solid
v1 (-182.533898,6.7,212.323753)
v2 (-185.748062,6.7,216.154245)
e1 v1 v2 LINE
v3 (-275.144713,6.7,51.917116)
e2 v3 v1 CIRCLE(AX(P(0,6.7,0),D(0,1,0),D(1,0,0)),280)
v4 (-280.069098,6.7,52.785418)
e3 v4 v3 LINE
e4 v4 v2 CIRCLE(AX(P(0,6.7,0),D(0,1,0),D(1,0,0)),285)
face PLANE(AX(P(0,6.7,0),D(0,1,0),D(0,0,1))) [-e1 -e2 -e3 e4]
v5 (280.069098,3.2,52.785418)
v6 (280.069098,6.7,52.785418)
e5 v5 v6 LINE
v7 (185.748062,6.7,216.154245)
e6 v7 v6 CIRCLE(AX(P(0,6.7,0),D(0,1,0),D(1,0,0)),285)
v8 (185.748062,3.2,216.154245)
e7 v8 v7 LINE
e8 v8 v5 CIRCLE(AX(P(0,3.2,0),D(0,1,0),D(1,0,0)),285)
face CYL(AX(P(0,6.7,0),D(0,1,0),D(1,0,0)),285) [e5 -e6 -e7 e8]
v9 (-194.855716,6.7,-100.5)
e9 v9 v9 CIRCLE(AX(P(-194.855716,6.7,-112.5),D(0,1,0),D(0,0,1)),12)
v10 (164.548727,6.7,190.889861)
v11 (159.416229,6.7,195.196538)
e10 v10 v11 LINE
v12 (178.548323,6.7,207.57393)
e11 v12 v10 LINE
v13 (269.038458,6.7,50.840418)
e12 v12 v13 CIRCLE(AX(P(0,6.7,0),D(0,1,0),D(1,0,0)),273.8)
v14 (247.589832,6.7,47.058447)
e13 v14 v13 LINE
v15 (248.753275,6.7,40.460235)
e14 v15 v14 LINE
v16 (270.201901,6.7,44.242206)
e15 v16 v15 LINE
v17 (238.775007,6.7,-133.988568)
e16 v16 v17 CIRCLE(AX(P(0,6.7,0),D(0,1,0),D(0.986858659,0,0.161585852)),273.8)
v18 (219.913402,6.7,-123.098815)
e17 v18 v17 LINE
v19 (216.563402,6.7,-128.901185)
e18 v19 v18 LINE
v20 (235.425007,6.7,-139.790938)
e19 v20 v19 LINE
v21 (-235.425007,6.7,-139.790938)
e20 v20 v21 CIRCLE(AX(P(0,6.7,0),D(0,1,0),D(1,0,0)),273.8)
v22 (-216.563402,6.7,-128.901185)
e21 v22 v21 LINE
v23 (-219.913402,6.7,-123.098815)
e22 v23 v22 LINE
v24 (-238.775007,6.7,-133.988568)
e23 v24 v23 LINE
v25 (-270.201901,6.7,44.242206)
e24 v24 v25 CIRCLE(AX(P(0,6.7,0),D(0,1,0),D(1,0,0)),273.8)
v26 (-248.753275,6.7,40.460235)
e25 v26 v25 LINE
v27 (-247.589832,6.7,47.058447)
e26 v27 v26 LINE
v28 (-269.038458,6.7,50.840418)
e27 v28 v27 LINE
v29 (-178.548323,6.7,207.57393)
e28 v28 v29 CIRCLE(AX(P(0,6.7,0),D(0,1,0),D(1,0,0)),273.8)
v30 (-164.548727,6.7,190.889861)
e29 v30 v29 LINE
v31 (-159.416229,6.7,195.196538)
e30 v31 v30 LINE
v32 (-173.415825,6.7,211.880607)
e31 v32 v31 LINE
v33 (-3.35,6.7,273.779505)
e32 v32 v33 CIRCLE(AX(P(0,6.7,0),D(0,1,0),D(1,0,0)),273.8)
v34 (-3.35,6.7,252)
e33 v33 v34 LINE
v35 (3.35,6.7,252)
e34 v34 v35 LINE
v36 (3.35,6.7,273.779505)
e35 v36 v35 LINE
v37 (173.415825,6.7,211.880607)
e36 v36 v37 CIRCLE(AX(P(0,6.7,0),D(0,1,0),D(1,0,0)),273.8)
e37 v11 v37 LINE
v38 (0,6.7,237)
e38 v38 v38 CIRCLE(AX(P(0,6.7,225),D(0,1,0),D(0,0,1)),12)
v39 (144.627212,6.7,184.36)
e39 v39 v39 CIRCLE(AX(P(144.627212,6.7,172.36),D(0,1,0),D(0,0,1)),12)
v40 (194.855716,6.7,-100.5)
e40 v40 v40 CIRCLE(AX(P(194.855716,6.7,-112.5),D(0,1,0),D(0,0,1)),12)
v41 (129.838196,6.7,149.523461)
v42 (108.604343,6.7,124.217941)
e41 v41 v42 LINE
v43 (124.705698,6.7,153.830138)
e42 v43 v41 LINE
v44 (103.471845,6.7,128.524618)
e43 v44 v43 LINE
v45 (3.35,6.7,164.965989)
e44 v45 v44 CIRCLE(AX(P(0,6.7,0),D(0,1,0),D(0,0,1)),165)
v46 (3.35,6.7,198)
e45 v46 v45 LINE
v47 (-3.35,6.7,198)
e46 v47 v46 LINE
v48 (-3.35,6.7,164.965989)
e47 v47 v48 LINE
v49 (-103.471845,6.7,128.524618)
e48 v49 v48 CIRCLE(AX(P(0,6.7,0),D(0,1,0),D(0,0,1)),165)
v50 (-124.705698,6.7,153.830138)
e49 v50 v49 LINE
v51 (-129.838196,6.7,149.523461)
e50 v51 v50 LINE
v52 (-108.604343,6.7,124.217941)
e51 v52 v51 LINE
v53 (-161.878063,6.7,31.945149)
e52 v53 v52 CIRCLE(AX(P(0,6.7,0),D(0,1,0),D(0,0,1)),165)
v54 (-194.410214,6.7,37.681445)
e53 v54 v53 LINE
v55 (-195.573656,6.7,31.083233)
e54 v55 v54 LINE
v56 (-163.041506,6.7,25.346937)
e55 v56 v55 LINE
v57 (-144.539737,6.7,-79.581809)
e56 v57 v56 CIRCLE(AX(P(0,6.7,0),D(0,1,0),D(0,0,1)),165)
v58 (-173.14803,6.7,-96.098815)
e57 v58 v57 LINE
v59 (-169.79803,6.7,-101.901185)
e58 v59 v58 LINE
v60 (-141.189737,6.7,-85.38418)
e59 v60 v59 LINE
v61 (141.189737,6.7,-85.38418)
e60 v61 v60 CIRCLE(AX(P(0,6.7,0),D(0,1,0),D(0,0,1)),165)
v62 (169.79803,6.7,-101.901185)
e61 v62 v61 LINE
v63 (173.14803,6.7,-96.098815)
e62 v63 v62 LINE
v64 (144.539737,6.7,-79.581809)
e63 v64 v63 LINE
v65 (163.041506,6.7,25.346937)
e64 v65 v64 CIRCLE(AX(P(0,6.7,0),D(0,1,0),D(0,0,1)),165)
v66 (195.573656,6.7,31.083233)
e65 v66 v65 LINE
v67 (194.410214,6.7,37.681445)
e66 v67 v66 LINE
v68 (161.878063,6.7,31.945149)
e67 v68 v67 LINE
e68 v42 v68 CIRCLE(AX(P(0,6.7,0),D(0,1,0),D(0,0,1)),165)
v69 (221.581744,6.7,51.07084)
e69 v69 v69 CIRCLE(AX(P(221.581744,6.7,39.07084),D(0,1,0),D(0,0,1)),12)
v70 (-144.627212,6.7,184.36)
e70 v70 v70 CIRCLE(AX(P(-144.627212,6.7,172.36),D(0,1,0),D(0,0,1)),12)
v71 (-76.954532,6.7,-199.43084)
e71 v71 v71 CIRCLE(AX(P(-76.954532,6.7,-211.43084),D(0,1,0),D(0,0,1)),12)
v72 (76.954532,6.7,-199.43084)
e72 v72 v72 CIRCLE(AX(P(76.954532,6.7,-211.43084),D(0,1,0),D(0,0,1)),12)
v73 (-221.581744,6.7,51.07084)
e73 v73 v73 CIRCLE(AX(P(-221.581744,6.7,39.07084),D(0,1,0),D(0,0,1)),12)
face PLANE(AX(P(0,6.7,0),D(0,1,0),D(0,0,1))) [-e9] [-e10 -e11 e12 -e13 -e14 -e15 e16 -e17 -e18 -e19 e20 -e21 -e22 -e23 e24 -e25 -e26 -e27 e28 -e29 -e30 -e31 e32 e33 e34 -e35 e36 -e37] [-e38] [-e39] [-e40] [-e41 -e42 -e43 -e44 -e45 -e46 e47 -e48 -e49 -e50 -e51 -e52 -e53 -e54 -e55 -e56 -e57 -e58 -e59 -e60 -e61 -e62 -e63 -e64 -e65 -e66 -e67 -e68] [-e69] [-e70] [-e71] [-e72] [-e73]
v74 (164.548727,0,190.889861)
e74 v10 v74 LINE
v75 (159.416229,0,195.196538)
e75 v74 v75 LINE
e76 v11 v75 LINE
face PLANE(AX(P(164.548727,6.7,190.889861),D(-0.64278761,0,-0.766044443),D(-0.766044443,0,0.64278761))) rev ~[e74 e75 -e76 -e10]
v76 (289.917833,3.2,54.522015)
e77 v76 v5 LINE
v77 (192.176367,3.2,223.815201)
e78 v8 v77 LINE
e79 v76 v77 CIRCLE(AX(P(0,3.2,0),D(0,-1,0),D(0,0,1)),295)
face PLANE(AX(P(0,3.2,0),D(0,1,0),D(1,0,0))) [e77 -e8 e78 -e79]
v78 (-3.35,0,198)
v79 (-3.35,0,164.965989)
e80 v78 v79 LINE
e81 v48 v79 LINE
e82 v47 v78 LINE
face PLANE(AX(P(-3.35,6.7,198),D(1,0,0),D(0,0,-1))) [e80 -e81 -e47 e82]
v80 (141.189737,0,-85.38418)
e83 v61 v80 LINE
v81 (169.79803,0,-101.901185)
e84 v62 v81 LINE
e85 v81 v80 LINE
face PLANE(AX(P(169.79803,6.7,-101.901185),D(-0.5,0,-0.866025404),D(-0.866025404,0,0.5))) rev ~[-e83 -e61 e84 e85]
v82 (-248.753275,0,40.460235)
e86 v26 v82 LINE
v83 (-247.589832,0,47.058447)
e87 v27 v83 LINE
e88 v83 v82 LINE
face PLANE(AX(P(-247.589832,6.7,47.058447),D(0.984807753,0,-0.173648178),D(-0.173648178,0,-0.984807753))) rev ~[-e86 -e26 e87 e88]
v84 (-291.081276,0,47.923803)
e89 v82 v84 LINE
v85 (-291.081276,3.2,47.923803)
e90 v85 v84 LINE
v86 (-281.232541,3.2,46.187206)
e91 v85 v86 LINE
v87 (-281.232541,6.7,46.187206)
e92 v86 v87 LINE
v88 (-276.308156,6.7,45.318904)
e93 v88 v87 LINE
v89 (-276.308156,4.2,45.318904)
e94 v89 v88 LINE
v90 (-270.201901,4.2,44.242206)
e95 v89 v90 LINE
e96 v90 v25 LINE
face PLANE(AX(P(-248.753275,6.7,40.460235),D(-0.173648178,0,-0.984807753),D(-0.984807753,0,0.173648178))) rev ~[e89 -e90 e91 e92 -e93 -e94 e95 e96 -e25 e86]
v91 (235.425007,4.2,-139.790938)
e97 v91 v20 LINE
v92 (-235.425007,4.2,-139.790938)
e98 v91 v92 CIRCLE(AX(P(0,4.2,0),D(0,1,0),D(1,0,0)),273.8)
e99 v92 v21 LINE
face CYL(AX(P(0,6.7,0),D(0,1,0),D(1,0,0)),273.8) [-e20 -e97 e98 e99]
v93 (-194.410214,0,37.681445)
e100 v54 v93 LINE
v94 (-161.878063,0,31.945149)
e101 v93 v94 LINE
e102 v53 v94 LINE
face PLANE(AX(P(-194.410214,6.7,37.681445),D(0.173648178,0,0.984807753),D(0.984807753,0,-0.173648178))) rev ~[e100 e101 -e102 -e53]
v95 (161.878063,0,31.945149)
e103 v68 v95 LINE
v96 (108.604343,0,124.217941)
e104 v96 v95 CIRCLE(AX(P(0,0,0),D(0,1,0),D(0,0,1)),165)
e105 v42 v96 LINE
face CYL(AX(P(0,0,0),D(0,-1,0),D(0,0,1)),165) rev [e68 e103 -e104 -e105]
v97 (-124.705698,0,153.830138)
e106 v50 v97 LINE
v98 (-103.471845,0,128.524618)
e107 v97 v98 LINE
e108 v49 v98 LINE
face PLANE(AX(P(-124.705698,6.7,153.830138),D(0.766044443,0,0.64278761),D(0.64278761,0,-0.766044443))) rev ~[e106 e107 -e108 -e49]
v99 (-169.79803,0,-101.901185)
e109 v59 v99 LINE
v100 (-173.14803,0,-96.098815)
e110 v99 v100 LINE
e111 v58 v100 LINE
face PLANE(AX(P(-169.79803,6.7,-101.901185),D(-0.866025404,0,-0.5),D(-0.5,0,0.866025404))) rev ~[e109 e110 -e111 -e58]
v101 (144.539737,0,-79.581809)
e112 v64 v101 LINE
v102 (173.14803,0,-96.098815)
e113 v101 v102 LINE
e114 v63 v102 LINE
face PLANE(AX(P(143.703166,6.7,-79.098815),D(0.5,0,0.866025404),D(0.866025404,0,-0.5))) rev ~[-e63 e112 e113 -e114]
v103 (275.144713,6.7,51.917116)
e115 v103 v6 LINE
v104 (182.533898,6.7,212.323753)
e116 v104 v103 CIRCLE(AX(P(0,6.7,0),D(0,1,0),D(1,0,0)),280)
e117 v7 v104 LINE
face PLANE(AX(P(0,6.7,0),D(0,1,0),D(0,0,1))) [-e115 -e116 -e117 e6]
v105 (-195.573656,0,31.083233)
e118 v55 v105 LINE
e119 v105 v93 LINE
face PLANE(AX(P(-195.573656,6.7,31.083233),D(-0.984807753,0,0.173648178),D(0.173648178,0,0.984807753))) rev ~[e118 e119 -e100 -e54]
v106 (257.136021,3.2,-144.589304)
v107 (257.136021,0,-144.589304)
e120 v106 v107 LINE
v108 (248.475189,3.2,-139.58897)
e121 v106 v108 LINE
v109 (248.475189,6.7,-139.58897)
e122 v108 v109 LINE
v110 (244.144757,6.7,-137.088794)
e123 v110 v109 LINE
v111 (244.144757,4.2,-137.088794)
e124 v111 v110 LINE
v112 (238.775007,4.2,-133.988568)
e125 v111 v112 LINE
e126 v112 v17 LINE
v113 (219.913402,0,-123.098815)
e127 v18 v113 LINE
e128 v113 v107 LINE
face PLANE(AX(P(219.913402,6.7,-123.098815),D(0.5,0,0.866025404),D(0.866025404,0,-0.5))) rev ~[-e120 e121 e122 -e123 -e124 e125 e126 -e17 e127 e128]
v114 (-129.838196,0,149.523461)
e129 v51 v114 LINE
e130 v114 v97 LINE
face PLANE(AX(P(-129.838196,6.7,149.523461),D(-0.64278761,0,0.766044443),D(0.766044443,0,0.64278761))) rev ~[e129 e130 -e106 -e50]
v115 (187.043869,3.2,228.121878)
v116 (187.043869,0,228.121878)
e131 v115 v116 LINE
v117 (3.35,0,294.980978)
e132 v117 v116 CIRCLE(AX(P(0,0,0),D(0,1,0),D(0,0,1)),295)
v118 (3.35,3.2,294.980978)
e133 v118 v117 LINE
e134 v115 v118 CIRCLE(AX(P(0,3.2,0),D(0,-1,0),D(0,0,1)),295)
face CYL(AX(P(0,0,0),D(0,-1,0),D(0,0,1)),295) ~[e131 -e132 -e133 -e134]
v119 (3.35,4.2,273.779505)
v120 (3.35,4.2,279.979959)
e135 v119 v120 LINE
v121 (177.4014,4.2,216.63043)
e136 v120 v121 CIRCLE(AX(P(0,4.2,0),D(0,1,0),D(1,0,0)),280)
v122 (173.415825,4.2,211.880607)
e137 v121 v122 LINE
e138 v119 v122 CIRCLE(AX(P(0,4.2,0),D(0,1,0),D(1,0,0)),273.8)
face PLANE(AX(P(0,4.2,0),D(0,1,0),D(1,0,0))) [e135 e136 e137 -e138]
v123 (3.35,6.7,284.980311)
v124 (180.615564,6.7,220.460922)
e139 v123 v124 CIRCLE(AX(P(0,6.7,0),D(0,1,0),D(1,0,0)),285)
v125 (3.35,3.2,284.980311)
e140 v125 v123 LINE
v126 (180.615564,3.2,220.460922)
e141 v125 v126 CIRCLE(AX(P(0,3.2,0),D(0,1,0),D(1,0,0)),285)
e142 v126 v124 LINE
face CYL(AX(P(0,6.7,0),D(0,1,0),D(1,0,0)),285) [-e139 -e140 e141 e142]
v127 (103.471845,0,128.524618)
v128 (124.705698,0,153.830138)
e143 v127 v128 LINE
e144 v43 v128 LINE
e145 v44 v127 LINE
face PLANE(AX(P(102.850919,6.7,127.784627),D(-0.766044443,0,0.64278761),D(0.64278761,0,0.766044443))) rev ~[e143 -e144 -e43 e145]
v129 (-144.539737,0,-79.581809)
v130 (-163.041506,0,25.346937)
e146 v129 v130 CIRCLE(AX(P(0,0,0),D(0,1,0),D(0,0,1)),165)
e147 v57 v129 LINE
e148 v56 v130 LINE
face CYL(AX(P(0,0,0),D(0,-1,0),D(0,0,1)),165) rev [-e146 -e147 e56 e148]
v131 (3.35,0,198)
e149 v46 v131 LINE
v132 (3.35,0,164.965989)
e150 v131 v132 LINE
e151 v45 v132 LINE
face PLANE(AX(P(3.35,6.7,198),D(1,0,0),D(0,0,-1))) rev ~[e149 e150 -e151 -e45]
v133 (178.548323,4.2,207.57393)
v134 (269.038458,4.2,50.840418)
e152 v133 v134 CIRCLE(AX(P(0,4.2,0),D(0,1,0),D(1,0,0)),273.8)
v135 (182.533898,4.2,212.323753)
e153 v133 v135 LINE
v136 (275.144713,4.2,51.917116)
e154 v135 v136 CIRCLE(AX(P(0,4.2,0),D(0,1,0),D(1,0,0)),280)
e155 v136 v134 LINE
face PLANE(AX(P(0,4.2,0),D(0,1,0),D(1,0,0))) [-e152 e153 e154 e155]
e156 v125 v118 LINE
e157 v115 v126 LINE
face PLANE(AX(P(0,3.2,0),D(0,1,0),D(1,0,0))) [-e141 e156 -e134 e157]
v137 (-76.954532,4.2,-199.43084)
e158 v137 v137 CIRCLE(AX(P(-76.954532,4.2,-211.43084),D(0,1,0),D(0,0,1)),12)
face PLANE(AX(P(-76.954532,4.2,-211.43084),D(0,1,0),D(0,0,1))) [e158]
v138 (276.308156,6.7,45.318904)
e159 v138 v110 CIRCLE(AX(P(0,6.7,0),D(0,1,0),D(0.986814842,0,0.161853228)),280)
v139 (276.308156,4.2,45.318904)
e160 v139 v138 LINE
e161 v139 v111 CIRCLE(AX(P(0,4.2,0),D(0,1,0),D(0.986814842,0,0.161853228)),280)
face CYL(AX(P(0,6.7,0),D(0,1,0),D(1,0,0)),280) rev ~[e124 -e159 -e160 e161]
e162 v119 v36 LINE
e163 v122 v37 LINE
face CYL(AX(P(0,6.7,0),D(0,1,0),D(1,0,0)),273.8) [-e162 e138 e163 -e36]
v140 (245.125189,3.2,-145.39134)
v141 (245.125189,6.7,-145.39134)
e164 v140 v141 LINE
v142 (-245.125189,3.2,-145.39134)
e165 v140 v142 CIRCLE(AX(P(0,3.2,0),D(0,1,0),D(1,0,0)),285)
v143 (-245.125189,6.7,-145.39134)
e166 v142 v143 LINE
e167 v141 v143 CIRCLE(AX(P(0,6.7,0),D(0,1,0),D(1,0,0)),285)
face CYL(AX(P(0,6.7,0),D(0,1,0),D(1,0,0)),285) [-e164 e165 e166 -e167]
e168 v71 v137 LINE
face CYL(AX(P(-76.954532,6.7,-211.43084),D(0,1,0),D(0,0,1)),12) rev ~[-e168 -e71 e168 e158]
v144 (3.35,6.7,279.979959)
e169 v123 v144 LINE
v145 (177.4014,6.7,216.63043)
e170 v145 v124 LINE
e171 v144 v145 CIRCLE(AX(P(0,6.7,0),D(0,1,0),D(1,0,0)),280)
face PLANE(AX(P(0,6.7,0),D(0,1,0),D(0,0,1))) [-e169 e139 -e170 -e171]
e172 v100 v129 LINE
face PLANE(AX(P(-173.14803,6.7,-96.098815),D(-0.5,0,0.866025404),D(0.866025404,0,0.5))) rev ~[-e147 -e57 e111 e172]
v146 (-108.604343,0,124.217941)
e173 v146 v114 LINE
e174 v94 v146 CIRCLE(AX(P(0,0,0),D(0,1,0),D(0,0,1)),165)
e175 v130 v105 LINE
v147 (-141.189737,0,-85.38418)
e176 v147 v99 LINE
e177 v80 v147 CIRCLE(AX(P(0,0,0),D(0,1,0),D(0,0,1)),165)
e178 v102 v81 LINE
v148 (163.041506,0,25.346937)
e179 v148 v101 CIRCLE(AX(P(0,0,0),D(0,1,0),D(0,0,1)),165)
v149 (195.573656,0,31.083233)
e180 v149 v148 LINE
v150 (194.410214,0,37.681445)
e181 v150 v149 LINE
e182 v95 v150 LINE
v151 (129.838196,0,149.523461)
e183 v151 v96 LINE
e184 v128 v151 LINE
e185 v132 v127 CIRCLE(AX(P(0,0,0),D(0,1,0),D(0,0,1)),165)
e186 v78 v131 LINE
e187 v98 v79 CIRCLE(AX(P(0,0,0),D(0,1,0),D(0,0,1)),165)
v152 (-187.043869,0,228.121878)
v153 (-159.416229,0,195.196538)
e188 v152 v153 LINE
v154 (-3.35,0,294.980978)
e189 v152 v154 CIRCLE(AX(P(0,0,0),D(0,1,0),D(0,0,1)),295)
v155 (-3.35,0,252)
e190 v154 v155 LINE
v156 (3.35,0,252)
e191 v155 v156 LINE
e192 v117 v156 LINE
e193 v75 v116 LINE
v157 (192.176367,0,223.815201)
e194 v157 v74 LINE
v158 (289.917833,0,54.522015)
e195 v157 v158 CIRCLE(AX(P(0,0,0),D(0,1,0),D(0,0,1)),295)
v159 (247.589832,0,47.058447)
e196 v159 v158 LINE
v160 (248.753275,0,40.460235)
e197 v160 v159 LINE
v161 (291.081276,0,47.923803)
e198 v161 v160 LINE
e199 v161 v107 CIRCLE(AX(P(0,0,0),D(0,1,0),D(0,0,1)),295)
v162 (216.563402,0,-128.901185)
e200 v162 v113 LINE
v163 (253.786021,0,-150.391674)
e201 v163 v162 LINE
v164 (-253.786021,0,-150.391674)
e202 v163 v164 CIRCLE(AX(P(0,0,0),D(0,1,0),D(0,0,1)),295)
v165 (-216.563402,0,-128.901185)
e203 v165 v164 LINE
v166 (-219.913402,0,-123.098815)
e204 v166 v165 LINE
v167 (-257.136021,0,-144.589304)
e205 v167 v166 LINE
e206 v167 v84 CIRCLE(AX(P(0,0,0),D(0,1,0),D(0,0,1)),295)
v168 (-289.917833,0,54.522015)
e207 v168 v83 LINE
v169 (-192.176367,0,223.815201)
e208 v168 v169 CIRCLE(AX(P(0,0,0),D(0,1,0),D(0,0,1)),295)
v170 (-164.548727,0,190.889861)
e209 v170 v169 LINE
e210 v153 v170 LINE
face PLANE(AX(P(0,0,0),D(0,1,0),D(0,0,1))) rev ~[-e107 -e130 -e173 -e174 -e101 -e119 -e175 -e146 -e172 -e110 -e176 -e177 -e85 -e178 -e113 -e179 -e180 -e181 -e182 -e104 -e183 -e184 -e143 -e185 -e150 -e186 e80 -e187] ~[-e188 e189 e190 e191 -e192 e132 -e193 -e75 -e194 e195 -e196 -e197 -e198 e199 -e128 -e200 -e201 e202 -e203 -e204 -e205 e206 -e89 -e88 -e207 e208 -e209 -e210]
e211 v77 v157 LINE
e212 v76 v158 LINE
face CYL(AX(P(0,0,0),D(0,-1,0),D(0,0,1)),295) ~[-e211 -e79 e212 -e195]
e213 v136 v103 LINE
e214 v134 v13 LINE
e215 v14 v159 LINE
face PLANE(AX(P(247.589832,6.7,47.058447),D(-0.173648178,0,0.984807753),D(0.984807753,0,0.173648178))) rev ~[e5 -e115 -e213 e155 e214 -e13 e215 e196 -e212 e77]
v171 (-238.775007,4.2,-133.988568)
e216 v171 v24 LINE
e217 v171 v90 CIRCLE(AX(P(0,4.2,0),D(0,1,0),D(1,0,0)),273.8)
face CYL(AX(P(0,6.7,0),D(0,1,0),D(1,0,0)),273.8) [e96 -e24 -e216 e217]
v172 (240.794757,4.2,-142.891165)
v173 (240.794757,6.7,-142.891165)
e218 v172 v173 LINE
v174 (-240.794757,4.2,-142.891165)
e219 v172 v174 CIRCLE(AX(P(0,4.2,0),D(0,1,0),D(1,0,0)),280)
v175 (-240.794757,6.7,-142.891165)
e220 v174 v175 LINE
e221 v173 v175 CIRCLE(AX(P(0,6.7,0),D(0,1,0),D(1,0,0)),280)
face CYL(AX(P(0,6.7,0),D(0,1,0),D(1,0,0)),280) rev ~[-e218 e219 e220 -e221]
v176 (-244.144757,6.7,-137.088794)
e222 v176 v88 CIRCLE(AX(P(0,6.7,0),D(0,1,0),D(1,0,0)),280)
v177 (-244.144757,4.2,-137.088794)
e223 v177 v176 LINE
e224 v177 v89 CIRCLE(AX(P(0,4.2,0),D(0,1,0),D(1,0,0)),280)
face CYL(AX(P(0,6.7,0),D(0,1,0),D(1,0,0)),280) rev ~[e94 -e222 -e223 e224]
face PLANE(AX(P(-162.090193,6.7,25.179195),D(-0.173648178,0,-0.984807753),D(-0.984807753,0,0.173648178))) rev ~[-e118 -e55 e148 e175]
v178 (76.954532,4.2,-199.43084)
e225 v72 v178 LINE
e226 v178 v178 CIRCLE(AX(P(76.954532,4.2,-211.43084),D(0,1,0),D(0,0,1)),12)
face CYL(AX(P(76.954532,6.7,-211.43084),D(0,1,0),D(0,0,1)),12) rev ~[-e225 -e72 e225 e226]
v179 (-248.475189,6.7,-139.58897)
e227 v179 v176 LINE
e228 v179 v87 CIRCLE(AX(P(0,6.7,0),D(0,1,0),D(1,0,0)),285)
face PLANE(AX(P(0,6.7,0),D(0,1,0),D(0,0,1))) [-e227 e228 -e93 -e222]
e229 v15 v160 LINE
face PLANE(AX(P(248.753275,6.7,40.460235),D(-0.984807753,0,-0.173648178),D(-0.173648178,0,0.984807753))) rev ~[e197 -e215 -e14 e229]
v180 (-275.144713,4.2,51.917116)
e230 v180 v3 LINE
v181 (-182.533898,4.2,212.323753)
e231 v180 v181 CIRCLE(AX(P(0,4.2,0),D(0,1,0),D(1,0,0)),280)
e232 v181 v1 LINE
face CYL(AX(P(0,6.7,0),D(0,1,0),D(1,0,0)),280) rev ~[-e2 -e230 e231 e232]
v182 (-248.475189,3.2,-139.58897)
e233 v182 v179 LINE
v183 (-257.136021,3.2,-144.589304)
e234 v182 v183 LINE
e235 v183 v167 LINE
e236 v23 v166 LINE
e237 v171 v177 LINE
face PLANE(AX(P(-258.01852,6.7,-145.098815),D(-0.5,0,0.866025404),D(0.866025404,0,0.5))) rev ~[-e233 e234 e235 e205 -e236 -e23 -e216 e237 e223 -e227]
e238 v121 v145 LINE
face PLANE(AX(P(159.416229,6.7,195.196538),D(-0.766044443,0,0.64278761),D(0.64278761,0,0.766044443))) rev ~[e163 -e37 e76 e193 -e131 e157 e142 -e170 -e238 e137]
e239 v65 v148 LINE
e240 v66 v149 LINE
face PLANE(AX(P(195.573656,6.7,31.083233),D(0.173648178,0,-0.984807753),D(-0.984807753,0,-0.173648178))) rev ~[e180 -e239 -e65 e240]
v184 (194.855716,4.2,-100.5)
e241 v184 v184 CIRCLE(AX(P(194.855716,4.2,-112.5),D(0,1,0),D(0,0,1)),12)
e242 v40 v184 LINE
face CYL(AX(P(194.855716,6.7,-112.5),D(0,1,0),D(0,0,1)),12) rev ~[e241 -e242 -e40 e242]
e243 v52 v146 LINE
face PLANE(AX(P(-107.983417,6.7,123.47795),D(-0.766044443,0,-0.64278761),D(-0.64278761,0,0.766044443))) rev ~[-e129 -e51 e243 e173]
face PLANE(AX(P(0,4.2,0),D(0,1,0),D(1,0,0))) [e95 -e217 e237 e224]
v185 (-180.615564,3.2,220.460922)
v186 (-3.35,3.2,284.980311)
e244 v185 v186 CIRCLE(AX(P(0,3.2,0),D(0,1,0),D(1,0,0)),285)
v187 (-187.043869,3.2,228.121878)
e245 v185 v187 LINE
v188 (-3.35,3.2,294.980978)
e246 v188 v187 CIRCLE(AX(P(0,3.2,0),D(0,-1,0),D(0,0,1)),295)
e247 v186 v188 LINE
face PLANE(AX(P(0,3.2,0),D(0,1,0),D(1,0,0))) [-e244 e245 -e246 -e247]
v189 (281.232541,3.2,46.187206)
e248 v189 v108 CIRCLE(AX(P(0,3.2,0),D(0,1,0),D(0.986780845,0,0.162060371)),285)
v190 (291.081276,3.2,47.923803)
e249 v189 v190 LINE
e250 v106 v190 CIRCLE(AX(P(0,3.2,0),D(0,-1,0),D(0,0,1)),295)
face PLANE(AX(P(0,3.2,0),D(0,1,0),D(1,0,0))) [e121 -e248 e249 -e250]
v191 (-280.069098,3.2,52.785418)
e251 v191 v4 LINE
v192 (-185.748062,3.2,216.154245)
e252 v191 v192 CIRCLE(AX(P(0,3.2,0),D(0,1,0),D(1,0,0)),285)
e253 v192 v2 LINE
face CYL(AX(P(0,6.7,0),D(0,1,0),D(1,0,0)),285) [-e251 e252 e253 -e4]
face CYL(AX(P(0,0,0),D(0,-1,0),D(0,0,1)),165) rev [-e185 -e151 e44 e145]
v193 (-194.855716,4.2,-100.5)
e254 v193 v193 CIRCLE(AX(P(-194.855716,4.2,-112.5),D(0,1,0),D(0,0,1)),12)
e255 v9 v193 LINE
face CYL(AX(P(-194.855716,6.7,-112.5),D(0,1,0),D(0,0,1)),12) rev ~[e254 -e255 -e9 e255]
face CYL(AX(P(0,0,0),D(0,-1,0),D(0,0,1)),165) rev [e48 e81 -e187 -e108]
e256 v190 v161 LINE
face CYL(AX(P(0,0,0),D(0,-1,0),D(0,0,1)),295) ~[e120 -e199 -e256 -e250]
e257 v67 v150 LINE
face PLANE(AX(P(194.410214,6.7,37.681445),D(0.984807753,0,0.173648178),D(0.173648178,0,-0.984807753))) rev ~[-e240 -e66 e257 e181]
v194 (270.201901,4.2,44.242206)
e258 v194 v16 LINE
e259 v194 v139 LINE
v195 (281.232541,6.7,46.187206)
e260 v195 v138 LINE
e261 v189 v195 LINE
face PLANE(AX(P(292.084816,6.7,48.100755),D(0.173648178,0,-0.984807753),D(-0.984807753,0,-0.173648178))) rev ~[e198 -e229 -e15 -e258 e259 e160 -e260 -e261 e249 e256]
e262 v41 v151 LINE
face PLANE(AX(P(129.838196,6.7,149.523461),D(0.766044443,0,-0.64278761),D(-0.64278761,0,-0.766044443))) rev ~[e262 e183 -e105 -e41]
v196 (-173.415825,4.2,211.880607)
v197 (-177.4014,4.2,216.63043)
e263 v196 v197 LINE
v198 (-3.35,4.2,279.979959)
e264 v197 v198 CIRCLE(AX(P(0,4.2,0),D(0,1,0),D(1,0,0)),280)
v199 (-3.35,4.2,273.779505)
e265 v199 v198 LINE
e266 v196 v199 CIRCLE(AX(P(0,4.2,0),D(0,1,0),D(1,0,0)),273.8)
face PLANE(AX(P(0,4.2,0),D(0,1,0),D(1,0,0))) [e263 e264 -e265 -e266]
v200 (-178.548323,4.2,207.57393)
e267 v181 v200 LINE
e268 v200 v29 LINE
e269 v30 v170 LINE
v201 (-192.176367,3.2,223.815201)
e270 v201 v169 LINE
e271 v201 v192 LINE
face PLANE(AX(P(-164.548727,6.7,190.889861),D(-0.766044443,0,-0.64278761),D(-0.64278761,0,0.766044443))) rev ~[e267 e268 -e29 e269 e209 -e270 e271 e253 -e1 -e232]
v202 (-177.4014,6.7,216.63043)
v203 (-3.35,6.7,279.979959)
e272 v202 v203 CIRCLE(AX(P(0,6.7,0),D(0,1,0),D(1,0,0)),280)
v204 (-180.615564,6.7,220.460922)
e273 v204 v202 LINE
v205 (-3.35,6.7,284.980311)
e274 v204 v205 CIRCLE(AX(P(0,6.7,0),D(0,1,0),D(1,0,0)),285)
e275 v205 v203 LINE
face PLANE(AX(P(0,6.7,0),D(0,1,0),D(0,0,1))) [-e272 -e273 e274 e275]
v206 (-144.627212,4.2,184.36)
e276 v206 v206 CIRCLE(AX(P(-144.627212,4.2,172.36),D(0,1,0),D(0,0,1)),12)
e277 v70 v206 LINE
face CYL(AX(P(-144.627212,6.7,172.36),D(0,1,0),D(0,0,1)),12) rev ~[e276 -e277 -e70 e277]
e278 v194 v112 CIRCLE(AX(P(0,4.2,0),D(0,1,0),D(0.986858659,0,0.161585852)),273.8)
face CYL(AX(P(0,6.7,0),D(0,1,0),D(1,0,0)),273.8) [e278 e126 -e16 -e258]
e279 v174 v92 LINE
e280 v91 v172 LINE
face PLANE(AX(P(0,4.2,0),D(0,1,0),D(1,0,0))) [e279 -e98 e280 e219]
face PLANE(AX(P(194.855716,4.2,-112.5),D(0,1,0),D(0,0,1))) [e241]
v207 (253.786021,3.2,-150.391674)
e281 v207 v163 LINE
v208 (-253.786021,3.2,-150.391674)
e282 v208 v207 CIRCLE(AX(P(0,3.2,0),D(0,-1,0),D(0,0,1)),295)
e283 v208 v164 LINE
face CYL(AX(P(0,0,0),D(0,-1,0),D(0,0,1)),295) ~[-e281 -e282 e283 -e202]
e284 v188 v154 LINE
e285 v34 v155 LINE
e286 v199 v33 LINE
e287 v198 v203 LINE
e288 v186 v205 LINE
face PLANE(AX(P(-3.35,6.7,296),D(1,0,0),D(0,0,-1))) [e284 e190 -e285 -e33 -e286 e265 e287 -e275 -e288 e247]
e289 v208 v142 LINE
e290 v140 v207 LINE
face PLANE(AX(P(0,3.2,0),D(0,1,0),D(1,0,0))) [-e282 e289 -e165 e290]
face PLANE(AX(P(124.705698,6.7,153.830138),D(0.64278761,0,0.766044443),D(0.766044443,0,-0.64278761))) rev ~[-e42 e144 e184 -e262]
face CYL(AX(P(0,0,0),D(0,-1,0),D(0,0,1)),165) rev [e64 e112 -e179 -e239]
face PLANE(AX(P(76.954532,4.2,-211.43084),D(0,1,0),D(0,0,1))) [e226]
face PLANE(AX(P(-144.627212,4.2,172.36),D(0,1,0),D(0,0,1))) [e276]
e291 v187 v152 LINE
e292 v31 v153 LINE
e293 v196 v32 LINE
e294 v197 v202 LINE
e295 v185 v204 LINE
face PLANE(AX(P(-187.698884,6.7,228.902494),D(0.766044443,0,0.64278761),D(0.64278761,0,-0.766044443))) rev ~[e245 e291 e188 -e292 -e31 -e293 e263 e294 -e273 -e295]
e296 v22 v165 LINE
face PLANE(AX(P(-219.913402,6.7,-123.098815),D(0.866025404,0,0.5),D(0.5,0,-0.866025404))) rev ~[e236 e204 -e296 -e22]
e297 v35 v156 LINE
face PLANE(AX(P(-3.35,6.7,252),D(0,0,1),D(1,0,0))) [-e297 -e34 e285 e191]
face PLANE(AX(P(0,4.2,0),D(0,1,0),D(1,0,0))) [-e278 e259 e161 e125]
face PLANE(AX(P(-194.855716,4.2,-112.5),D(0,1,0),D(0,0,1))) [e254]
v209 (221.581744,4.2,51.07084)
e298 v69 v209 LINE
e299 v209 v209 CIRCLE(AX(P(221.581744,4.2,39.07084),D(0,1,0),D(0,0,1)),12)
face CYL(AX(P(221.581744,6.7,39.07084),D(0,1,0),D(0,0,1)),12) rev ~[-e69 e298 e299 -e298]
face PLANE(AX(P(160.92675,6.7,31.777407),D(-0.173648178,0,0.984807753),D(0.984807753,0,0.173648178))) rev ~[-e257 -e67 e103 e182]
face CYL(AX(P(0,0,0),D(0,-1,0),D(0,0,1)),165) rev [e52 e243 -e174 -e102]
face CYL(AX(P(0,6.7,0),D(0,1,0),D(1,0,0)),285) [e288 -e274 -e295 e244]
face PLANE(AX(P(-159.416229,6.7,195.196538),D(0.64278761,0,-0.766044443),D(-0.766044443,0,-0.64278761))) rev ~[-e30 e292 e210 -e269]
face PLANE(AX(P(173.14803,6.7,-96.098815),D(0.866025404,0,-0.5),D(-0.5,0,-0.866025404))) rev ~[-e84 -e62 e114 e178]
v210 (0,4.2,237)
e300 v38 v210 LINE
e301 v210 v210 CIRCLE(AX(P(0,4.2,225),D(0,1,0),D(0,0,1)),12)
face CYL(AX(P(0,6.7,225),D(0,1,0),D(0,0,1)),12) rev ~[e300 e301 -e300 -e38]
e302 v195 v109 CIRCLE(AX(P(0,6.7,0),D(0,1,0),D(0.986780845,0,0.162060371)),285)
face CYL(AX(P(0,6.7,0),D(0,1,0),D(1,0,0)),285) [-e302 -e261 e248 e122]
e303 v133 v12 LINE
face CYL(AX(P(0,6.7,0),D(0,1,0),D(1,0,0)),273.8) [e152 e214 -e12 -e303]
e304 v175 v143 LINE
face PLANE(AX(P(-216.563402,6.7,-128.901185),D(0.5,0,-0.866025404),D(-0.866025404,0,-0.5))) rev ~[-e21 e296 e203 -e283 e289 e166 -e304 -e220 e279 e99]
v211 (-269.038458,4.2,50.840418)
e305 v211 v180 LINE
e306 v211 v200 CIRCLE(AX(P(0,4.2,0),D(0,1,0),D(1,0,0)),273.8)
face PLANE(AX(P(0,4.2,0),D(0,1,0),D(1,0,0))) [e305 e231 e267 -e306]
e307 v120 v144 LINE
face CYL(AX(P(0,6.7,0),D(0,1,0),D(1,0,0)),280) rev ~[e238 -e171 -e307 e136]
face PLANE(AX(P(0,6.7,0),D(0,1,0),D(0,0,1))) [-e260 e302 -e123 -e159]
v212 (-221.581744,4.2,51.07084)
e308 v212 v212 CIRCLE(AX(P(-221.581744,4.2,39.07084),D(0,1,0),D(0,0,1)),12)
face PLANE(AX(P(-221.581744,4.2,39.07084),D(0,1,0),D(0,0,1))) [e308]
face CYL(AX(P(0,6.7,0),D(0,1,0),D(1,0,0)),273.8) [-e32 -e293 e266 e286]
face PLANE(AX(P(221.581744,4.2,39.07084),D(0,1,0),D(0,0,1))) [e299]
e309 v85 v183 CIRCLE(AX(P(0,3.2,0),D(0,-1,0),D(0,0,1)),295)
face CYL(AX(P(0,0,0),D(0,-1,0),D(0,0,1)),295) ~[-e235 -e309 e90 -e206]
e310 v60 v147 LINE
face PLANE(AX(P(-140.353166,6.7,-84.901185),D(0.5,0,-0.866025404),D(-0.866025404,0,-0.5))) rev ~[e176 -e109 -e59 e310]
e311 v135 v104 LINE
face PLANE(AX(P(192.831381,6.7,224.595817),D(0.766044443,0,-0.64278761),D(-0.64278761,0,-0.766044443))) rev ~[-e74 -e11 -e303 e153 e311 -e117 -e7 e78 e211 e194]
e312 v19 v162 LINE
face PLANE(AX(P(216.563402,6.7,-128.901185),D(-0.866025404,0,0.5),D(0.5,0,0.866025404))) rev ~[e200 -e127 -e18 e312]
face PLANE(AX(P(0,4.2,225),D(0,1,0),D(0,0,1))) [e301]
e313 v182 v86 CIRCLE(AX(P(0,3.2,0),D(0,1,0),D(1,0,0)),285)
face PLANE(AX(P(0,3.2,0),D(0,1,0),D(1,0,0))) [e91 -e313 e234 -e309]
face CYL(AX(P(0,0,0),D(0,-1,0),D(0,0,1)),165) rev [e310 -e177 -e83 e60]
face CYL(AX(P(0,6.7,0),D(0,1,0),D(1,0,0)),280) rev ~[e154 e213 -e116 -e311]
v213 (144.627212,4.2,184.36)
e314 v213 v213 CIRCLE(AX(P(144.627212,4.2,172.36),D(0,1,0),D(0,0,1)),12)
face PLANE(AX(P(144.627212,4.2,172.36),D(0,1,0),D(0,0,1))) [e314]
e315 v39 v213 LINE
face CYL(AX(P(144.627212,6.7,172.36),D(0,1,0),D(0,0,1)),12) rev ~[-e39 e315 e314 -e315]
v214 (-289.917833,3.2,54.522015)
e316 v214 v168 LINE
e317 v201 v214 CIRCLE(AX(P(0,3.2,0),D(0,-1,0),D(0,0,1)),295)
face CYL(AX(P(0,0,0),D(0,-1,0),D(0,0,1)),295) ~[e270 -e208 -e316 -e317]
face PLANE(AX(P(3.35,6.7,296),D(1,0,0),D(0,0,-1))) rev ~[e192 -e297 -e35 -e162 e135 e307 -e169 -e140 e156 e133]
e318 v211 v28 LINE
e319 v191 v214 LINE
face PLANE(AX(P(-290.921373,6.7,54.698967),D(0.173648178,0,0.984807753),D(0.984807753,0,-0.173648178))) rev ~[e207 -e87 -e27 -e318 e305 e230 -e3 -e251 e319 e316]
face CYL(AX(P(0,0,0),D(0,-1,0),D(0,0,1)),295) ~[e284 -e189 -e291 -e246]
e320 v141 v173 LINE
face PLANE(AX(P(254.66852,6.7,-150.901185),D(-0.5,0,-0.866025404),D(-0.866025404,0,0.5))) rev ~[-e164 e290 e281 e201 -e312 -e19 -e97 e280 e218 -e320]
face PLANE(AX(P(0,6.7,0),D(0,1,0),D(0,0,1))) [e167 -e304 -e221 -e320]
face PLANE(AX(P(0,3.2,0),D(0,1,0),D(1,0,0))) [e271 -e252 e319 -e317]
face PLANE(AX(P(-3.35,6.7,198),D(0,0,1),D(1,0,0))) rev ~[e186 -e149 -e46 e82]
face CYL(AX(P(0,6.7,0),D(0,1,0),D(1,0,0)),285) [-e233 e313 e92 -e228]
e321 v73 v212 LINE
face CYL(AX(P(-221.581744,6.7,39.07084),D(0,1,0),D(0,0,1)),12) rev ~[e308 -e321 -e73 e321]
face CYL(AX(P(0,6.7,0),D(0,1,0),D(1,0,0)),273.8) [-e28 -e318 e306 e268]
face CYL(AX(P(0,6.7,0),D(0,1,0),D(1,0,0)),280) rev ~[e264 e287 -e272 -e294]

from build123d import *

# Parameters (mm, degrees)
SKETCH1_R           = 295
SKETCH1_R_2         = 165
BOSS_EXTRUDE1_DEPTH = 6.7
SKETCH2_W           = 6.7
SKETCH2_H           = 34
SKETCH2_H_2         = 44
CUT_EXTRUDE3_DEPTH  = 6.7
SKETCH3_R           = 280
SKETCH3_R_2         = 273.8
SKETCH3_R_3         = 12
CUT_EXTRUDE4_DEPTH  = 2.5
SKETCH5_R           = 296
SKETCH5_R_2         = 285
CUT_EXTRUDE5_DEPTH  = 3.5


with BuildPart() as part:
    # Sketch1 → Boss-Extrude1 (new body)
    with BuildSketch(Plane(origin=(0, 0, 0), x_dir=(1, 0, 0), z_dir=(0, 1, 0))):
        with Locations(Location((0, 0, 0), (0, 0, 270))):
            Circle(SKETCH1_R)
        with Locations(Location((0, 0, 0), (0, 0, 270))):
            Circle(SKETCH1_R_2, mode=Mode.SUBTRACT)
    extrude(amount=BOSS_EXTRUDE1_DEPTH)

    # Sketch2 → Cut-Extrude3 (cut)
    with BuildSketch(Plane(origin=(0, 6.7, 0), x_dir=(1, 0, 0), z_dir=(0, 1, 0))):
        Polygon((254.66851952, 150.901185103), (216.563401754, 128.901185103), (219.913401754, 123.098814897), (258.01851952, 145.098814897), align=None)
        Polygon((169.798029949, 101.901185103), (140.353166221, 84.901185103), (143.703166221, 79.098814897), (173.148029949, 96.098814897), align=None)
        Polygon((129.838195602, -149.523461245), (107.983416873, -123.477950179), (102.850919104, -127.784627164), (124.705697833, -153.83013823), align=None)
        Polygon((290.921373496, -54.698966562), (292.084816287, -48.100754617), (248.753275154, -40.460234799), (247.589832364, -47.058446745), align=None)
        Polygon((195.573656492, -31.083233205), (162.090192889, -25.179195165), (160.926750099, -31.77740711), (194.410213701, -37.681445151), align=None)
        Polygon((187.698883583, -228.902493656), (192.831381352, -224.595816671), (164.548726525, -190.889861174), (159.416228757, -195.196538158), align=None)
        with Locations((0, -181)):
            Rectangle(SKETCH2_W, SKETCH2_H)
        with Locations((0, -274)):
            Rectangle(SKETCH2_W, SKETCH2_H_2)
        Polygon((-124.705697833, -153.83013823), (-102.850919104, -127.784627164), (-107.983416873, -123.477950179), (-129.838195602, -149.523461245), align=None)
        Polygon((-192.831381352, -224.595816671), (-187.698883583, -228.902493656), (-159.416228757, -195.196538158), (-164.548726525, -190.889861174), align=None)
        Polygon((-194.410213701, -37.681445151), (-160.926750099, -31.77740711), (-162.090192889, -25.179195165), (-195.573656492, -31.083233205), align=None)
        Polygon((-292.084816287, -48.100754617), (-290.921373496, -54.698966562), (-247.589832364, -47.058446745), (-248.753275154, -40.460234799), align=None)
        Polygon((-254.66851952, 150.901185103), (-258.01851952, 145.098814897), (-219.913401754, 123.098814897), (-216.563401754, 128.901185103), align=None)
        Polygon((-173.148029949, 96.098814897), (-143.703166221, 79.098814897), (-140.353166221, 84.901185103), (-169.798029949, 101.901185103), align=None)
    extrude(amount=-CUT_EXTRUDE3_DEPTH, mode=Mode.SUBTRACT)

    # Sketch3 → Cut-Extrude4 (cut)
    # profile 1 of 10: a face of its own
    with BuildSketch(Plane(origin=(0, 6.7, 0), x_dir=(1, 0, 0), z_dir=(0, 1, 0))):
        Circle(SKETCH3_R)
        Circle(SKETCH3_R_2, mode=Mode.SUBTRACT)
    # profile 2 of 10: a face of its own
    with BuildSketch(Plane(origin=(0, 6.7, 0), x_dir=(1, 0, 0), z_dir=(0, 1, 0))):
        with Locations(Location((0, -225, 0), (0, 0, 270))):
            Circle(SKETCH3_R_3)
    # profile 3 of 10: a face of its own
    with BuildSketch(Plane(origin=(0, 6.7, 0), x_dir=(1, 0, 0), z_dir=(0, 1, 0))):
        with Locations(Location((-144.627212179, -172.359999702, 0), (0, 0, 270))):
            Circle(SKETCH3_R_3)
    # profile 4 of 10: a face of its own
    with BuildSketch(Plane(origin=(0, 6.7, 0), x_dir=(1, 0, 0), z_dir=(0, 1, 0))):
        with Locations(Location((-221.581744428, -39.070839975, 0), (0, 0, 270))):
            Circle(SKETCH3_R_3)
    # profile 5 of 10: a face of its own
    with BuildSketch(Plane(origin=(0, 6.7, 0), x_dir=(1, 0, 0), z_dir=(0, 1, 0))):
        with Locations(Location((-194.855715851, 112.5, 0), (0, 0, 270))):
            Circle(SKETCH3_R_3)
    # profile 6 of 10: a face of its own
    with BuildSketch(Plane(origin=(0, 6.7, 0), x_dir=(1, 0, 0), z_dir=(0, 1, 0))):
        with Locations(Location((-76.954532248, 211.430839677, 0), (0, 0, 270))):
            Circle(SKETCH3_R_3)
    # profile 7 of 10: a face of its own
    with BuildSketch(Plane(origin=(0, 6.7, 0), x_dir=(1, 0, 0), z_dir=(0, 1, 0))):
        with Locations(Location((76.954532248, 211.430839677, 0), (0, 0, 270))):
            Circle(SKETCH3_R_3)
    # profile 8 of 10: a face of its own
    with BuildSketch(Plane(origin=(0, 6.7, 0), x_dir=(1, 0, 0), z_dir=(0, 1, 0))):
        with Locations(Location((194.855715851, 112.5, 0), (0, 0, 270))):
            Circle(SKETCH3_R_3)
    # profile 9 of 10: a face of its own
    with BuildSketch(Plane(origin=(0, 6.7, 0), x_dir=(1, 0, 0), z_dir=(0, 1, 0))):
        with Locations(Location((221.581744428, -39.070839975, 0), (0, 0, 270))):
            Circle(SKETCH3_R_3)
    # profile 10 of 10: a face of its own
    with BuildSketch(Plane(origin=(0, 6.7, 0), x_dir=(1, 0, 0), z_dir=(0, 1, 0))):
        with Locations(Location((144.627212179, -172.359999702, 0), (0, 0, 270))):
            Circle(SKETCH3_R_3)
    extrude(amount=-CUT_EXTRUDE4_DEPTH, mode=Mode.SUBTRACT)

    # Sketch5 → Cut-Extrude5 (cut)
    with BuildSketch(Plane(origin=(0, 6.7, 0), x_dir=(1, 0, 0), z_dir=(0, 1, 0))):
        Circle(SKETCH5_R)
        Circle(SKETCH5_R_2, mode=Mode.SUBTRACT)
    extrude(amount=-CUT_EXTRUDE5_DEPTH, mode=Mode.SUBTRACT)


solid = part.part
